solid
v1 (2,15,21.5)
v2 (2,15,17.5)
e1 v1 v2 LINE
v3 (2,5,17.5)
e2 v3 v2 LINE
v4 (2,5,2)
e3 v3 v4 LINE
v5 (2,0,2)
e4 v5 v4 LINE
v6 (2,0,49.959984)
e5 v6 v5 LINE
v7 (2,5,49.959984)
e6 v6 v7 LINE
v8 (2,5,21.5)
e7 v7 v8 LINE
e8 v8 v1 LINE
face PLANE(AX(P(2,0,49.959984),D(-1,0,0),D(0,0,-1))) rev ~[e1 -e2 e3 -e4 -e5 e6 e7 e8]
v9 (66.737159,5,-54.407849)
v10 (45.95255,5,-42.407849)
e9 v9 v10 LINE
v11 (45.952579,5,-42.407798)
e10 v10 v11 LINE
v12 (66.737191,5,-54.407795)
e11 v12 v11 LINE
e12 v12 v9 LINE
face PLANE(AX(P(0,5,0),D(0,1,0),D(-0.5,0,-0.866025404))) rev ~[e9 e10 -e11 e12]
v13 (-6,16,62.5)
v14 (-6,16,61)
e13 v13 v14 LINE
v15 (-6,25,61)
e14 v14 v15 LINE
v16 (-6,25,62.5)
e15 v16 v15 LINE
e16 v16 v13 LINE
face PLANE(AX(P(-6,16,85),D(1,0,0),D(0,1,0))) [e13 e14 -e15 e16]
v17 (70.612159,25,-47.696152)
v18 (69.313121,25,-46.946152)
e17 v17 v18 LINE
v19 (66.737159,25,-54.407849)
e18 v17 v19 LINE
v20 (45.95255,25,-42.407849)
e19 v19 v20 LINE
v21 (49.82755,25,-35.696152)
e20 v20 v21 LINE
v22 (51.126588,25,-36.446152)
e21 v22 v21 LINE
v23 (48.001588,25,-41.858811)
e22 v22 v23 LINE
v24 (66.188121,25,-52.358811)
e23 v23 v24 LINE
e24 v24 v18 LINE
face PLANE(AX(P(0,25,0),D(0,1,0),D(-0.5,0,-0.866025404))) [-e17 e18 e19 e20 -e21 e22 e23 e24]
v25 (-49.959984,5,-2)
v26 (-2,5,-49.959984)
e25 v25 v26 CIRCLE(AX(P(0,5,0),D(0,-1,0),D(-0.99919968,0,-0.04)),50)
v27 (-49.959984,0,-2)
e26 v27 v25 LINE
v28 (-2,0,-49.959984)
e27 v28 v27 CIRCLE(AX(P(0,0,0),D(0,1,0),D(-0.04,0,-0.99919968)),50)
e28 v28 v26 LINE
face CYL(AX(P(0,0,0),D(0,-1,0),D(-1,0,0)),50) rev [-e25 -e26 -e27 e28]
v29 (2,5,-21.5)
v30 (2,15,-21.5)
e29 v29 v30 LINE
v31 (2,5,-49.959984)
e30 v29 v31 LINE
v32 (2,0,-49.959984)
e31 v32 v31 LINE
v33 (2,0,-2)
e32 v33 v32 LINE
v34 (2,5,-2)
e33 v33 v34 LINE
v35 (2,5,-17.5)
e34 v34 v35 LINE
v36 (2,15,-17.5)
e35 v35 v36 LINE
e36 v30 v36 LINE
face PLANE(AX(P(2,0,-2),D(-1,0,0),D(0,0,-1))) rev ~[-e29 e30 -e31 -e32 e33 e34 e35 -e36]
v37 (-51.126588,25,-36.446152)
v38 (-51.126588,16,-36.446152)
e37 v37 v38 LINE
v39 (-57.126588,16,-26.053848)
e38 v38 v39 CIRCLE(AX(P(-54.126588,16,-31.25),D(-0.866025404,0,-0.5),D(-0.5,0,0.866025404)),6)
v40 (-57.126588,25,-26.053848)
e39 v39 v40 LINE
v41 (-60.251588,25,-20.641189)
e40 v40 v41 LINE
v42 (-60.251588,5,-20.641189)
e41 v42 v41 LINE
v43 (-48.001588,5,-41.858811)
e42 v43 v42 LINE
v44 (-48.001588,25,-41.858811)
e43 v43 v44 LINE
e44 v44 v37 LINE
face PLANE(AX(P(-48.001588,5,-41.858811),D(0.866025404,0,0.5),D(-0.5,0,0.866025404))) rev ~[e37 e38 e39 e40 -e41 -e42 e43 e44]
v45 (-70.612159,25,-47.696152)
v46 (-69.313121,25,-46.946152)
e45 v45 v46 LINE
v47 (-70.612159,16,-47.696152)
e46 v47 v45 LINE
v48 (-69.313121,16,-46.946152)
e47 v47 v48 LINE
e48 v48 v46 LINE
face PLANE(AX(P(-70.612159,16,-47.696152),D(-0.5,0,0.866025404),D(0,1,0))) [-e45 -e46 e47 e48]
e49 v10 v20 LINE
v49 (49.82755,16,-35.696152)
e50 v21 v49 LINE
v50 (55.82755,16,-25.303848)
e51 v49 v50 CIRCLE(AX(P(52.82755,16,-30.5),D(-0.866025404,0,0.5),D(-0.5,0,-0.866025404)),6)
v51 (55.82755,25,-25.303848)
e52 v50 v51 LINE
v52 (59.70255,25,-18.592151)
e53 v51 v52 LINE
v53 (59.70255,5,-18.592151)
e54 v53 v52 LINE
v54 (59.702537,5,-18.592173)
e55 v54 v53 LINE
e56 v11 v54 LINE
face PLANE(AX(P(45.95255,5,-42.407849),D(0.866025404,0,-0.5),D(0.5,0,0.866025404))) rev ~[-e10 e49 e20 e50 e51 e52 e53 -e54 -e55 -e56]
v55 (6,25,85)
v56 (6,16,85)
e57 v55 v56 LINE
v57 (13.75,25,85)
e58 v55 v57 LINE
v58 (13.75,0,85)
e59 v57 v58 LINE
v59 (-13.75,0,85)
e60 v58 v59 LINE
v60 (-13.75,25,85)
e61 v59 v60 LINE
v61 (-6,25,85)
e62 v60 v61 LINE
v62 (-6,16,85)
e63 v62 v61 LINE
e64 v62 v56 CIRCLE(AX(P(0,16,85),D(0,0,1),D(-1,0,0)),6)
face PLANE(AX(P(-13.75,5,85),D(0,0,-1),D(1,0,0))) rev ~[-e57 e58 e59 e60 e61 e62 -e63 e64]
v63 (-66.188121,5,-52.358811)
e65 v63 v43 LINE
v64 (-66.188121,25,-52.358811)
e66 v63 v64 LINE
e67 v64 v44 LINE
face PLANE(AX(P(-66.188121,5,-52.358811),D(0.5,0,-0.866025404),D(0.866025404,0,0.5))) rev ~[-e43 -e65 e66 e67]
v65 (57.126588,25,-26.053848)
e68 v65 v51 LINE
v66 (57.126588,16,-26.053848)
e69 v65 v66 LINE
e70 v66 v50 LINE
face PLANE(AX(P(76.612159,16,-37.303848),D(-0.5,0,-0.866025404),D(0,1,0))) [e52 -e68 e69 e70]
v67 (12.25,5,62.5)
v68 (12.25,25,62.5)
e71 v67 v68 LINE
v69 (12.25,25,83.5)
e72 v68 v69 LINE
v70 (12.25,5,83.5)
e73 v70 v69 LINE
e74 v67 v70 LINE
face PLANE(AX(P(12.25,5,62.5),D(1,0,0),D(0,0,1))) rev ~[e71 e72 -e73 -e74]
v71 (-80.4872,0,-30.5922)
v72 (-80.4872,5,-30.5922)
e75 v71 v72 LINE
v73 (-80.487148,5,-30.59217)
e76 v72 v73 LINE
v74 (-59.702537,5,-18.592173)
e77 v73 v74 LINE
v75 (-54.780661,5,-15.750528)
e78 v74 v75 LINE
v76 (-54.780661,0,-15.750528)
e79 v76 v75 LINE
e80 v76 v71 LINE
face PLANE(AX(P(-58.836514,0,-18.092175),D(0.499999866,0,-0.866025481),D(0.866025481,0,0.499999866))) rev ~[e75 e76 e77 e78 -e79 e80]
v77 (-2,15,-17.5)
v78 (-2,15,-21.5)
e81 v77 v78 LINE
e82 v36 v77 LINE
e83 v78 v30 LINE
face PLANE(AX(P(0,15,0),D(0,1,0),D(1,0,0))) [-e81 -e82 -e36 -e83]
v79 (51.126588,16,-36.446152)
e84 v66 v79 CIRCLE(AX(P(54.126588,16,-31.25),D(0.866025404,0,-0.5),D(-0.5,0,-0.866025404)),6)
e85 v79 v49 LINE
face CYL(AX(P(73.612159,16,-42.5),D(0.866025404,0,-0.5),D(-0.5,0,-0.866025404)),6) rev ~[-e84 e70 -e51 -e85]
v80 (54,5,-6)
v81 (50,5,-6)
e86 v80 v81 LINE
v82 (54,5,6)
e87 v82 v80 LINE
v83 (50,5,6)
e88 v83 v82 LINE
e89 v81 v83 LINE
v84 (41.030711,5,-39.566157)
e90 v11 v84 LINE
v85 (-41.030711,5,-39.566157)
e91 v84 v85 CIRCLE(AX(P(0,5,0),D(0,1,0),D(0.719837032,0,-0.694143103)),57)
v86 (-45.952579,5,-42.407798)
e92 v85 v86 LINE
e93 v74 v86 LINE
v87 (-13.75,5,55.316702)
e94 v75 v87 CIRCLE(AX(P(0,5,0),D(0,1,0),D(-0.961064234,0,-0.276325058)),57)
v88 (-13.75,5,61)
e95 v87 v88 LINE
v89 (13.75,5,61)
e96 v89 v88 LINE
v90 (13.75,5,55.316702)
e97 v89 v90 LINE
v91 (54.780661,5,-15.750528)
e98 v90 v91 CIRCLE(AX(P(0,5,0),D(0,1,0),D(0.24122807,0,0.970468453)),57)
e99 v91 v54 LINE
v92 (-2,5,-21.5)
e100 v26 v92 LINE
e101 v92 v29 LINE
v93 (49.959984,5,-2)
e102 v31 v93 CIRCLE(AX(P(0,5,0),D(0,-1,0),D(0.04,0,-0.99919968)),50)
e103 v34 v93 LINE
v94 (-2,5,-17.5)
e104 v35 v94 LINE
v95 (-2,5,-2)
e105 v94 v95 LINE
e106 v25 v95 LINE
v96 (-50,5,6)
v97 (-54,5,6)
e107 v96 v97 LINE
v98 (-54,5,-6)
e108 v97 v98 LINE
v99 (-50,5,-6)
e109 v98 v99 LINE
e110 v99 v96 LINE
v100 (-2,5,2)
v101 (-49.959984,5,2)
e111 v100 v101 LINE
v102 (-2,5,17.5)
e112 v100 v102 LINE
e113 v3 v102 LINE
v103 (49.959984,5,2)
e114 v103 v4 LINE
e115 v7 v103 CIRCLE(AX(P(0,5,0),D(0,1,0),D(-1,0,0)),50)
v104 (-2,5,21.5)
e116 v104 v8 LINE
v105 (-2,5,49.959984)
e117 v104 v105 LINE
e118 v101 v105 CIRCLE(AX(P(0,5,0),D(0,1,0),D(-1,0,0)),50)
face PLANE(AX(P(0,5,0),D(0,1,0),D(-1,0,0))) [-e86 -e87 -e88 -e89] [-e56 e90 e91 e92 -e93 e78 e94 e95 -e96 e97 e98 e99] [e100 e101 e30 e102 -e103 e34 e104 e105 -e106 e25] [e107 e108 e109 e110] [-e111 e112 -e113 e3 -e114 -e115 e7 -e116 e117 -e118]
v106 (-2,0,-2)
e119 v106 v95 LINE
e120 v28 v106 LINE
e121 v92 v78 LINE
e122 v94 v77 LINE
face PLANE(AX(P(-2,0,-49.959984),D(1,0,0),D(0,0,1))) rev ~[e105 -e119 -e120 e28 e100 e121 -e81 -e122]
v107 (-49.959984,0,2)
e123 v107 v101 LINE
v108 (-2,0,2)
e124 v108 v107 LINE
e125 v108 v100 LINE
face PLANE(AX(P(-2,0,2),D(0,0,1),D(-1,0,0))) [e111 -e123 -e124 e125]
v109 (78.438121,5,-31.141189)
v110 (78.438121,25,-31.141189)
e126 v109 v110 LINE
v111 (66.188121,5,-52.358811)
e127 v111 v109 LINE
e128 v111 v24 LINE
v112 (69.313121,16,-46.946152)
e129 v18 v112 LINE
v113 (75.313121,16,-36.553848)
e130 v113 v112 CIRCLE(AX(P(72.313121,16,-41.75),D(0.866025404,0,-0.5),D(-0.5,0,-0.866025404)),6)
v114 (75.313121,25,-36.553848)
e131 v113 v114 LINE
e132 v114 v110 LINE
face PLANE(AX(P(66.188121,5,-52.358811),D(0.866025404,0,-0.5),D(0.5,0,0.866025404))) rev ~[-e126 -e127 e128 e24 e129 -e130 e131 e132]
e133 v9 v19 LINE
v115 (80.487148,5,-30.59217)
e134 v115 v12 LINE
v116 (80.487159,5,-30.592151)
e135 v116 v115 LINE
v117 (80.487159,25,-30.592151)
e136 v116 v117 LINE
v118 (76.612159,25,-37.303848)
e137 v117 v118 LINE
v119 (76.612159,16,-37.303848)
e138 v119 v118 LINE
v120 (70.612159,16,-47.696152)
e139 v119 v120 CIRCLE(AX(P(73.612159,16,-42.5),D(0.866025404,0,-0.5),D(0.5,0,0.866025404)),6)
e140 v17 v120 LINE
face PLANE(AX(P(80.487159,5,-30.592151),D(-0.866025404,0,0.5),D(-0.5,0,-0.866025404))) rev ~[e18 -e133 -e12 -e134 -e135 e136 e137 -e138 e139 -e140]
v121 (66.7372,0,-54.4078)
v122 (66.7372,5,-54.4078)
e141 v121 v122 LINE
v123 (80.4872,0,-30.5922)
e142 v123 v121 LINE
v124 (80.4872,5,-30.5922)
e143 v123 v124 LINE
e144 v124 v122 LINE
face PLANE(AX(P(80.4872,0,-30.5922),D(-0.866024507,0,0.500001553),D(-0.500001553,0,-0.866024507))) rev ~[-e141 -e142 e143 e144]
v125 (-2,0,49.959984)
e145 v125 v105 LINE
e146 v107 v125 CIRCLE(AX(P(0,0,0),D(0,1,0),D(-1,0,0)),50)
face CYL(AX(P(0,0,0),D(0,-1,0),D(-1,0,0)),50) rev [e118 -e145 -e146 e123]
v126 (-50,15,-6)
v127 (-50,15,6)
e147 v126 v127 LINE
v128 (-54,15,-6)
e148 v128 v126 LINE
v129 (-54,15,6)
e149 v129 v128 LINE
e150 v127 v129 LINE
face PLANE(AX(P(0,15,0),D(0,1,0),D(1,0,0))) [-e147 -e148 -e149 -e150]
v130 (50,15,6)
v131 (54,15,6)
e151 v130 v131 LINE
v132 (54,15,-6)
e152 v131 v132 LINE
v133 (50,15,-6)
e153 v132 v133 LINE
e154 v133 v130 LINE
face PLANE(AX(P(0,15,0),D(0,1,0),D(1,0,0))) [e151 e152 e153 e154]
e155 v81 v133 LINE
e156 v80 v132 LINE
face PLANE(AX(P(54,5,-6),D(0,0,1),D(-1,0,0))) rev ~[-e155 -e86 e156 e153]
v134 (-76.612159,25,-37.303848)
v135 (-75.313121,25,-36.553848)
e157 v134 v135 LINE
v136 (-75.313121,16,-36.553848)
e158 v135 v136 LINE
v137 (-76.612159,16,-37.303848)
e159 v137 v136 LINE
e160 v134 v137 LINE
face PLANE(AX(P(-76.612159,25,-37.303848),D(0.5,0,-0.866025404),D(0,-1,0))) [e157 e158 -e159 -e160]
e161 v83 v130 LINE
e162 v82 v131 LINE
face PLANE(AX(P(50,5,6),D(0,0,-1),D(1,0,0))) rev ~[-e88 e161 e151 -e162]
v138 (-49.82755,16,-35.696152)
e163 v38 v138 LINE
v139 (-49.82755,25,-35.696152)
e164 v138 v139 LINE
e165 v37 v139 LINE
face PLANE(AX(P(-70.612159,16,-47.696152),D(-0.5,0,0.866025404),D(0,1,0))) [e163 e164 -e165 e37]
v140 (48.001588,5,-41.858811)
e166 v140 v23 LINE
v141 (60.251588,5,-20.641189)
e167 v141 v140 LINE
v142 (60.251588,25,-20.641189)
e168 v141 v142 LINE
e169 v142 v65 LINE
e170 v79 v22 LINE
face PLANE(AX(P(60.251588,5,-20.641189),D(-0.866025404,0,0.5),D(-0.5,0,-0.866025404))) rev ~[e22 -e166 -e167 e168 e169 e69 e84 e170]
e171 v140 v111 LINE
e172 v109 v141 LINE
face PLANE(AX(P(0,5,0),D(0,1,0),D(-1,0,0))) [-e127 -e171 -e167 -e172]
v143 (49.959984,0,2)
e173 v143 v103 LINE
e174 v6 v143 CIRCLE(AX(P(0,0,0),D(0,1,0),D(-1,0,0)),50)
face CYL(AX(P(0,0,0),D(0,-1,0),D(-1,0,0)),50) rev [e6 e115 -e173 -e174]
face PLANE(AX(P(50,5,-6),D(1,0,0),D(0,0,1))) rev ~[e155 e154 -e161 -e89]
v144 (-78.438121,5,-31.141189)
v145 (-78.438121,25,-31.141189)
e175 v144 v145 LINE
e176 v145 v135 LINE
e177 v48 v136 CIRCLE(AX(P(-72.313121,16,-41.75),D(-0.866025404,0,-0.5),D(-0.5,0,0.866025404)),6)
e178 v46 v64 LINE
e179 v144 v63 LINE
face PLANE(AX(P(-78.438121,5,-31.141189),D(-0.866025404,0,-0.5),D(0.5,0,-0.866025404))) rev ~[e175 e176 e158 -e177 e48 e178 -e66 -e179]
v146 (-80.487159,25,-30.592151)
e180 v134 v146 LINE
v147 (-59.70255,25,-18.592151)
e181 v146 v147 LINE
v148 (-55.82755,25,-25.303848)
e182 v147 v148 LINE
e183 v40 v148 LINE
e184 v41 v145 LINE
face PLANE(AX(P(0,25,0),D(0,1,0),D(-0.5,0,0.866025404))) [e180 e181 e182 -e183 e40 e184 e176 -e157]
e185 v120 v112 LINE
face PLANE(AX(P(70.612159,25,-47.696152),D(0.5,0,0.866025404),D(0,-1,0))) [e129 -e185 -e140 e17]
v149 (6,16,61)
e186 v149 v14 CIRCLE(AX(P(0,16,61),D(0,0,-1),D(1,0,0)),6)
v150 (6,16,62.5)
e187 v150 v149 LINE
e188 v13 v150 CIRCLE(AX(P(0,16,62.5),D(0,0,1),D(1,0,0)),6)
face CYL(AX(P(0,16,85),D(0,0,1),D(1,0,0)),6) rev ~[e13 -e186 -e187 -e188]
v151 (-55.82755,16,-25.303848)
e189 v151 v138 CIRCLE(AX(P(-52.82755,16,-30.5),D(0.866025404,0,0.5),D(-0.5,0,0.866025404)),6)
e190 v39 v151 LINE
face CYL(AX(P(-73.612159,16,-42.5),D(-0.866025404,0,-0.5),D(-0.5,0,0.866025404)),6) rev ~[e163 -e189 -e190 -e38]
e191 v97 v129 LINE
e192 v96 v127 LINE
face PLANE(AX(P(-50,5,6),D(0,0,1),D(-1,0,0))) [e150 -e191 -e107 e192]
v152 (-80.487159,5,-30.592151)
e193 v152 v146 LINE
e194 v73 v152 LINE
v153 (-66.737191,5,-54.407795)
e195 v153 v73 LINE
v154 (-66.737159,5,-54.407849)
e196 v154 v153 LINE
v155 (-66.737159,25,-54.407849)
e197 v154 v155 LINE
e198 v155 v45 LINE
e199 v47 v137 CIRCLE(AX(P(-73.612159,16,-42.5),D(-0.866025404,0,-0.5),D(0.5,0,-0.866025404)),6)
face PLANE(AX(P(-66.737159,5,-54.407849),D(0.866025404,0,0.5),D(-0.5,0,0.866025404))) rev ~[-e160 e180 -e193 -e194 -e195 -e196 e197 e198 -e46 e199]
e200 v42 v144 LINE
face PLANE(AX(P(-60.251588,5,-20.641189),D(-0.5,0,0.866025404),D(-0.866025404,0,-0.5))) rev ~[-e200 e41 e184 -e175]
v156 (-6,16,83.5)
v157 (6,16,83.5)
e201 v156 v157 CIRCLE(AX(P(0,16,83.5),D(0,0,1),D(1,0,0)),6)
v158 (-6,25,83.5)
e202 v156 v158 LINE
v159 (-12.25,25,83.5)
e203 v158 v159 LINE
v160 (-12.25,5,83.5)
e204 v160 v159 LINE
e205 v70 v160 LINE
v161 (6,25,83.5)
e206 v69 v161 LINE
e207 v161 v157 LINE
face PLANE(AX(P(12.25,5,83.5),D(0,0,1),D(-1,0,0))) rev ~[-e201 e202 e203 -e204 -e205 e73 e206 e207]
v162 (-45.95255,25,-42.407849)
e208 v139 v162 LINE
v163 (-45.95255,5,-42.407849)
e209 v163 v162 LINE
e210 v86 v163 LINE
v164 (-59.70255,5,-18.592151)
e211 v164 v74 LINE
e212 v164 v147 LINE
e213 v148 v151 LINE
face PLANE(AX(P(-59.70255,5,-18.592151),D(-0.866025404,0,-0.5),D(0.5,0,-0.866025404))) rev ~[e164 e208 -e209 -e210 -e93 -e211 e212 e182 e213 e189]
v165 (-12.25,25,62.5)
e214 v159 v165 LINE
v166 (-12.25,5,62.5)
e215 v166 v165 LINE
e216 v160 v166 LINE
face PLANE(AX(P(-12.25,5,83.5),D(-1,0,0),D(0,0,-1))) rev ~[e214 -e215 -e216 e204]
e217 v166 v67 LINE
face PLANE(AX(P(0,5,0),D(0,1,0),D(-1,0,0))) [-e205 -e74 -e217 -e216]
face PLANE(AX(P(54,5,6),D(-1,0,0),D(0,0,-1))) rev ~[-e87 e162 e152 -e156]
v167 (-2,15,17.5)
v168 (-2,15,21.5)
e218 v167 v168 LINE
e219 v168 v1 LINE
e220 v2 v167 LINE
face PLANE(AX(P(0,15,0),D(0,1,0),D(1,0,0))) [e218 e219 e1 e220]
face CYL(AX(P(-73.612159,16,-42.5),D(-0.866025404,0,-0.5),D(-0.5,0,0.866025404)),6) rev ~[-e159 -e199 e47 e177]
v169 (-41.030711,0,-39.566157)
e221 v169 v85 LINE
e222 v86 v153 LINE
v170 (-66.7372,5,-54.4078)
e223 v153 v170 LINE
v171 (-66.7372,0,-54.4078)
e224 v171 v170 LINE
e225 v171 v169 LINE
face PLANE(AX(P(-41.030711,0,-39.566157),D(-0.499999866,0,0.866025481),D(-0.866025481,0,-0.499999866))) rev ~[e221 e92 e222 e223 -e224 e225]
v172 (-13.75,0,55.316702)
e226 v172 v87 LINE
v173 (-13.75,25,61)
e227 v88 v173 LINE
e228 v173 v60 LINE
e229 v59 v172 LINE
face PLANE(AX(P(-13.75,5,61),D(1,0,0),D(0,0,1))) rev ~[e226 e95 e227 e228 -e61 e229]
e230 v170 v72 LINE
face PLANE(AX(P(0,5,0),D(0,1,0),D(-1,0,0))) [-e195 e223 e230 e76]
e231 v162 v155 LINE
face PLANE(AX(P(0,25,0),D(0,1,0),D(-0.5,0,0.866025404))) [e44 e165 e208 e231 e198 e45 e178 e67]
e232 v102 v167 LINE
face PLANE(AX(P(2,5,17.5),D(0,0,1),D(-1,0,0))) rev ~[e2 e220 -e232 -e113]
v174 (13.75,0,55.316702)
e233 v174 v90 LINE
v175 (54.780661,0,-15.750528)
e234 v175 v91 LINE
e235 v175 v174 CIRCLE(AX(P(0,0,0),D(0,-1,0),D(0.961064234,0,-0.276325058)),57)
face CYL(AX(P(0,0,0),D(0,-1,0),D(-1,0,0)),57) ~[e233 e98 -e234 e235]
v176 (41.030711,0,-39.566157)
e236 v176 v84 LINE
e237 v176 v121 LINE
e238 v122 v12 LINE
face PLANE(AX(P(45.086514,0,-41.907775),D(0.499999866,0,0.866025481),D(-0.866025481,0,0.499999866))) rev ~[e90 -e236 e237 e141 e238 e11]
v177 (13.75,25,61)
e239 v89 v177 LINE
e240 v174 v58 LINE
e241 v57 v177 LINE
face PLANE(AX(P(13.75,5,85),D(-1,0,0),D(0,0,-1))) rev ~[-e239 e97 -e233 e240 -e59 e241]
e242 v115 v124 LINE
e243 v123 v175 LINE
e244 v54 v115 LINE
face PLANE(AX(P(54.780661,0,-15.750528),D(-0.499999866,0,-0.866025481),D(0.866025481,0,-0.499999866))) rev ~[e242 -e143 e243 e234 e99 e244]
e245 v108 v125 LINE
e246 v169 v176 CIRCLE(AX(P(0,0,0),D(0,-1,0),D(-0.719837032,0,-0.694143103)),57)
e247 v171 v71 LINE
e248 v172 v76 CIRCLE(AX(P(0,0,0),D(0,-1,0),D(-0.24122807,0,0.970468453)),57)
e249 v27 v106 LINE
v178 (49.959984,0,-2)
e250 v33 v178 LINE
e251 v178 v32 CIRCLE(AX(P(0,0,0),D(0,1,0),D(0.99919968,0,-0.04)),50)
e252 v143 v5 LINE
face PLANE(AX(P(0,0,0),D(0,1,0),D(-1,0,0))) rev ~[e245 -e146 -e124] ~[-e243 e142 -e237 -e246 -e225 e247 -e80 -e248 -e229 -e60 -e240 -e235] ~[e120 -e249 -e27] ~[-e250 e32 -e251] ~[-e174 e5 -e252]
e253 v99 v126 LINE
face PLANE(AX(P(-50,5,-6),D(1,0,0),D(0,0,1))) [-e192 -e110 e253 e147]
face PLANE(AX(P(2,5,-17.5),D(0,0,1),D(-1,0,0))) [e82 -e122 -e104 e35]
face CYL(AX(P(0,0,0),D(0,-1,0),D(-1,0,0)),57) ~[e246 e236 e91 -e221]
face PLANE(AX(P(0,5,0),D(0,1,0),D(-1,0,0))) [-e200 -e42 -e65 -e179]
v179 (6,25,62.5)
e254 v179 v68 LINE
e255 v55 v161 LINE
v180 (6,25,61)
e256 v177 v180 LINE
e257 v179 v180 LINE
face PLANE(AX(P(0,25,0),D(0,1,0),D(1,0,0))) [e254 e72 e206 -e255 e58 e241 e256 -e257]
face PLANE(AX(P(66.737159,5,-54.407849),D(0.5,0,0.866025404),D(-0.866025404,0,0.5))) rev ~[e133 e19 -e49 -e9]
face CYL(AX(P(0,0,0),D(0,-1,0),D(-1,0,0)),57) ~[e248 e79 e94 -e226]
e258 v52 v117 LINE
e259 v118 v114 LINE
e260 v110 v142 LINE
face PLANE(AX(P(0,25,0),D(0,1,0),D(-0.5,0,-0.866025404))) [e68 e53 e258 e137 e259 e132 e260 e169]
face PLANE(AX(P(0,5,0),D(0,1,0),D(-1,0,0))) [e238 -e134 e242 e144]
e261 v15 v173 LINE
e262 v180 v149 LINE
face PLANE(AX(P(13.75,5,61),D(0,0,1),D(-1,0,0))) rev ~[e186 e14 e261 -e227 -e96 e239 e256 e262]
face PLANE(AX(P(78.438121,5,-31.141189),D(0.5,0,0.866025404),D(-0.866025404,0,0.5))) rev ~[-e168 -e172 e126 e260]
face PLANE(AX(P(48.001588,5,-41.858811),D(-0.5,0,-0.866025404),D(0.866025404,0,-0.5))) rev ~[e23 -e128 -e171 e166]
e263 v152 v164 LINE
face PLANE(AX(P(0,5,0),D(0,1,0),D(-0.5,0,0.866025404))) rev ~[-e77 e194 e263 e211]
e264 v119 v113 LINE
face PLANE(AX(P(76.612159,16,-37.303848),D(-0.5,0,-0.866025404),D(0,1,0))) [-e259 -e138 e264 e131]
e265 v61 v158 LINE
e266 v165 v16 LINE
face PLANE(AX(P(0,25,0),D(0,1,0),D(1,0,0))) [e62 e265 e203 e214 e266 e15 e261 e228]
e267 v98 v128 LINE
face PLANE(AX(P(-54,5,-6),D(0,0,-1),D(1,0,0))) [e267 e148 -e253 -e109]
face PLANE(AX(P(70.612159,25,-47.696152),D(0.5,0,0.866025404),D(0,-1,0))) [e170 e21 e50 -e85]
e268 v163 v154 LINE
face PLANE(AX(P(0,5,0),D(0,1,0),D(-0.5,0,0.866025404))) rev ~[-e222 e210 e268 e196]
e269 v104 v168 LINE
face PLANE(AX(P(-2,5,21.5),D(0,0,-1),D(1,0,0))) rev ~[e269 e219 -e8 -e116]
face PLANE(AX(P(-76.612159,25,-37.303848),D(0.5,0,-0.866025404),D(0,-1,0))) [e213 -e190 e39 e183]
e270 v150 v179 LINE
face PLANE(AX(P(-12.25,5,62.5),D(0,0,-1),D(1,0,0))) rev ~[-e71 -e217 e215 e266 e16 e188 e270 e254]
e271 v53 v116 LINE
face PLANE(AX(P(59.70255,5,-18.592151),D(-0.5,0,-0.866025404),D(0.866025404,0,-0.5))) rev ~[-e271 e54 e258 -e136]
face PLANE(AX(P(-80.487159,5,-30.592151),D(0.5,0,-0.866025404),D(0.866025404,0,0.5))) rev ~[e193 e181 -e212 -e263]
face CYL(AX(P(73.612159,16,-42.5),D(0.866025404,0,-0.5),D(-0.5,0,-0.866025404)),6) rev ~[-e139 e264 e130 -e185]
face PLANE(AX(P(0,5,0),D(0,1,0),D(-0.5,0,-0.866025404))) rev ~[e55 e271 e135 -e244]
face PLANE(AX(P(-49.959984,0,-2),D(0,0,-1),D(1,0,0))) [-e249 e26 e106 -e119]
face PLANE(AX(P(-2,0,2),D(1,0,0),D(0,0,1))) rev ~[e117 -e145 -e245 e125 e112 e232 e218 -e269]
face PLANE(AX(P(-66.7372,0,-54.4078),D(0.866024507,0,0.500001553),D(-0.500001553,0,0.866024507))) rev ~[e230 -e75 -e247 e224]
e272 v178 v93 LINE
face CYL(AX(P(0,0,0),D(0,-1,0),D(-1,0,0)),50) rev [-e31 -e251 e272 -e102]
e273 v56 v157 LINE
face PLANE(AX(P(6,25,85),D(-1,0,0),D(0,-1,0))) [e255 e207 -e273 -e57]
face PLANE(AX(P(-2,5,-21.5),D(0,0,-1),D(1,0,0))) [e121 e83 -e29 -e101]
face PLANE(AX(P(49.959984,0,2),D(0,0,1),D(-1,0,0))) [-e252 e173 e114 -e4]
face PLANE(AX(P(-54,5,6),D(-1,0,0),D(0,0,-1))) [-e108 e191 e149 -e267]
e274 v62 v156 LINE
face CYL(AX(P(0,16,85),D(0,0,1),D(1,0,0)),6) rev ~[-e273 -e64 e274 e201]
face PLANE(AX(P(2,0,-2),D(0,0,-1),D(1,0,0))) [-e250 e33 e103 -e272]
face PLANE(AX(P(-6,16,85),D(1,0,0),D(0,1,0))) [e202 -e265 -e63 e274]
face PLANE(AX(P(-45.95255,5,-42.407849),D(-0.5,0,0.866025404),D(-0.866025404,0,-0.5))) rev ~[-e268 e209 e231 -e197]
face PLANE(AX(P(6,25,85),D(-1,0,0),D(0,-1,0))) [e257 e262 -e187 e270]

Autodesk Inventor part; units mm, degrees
ref_plane "YZ Plane" through (0, 0, 0) normal (1, 0, 0) x (0, 1, 0)
ref_plane "XZ Plane" through (0, 0, 0) normal (0, 1, 0) x (-1, 0, 0)
ref_plane "XY Plane" through (0, 0, 0) normal (0, 0, 1) x (1, 0, 0)
sketch "Sketch1" plane through (0, 0, 0) normal (0, 1, 0) x (-1, 0, 0)
  circle A0 centre (0, 0) radius 57
  circle A1 centre (0, 0) radius 50
  line L0 (0, -85.4) -> (0, 113.4) projected
  line L1 (112.682, 0) -> (-112.682, 0) projected
  line L2 (-50, 2) -> (50, 2)
  line L3 (50, 2) -> (50, -2)
  line L4 (50, -2) -> (-50, -2)
  line L5 (-50, -2) -> (-50, 2)
  line L6 (-50, 2) -> (50, -2) construction
  line L7 (50, 2) -> (-50, -2) construction
  line L8 (2, 50) -> (-2, 50)
  line L9 (-2, 50) -> (-2, -50)
  line L10 (-2, -50) -> (2, -50)
  line L11 (2, -50) -> (2, 50)
  line L12 (2, 50) -> (-2, -50) construction
  line L13 (-2, 50) -> (2, -50) construction
  line L14 (13.75, 85) -> (-13.75, 85)
  line L15 (-13.75, 85) -> (-13.75, 50)
  line L16 (-13.75, 50) -> (13.75, 50)
  line L17 (13.75, 50) -> (13.75, 85)
  line L18 (0, 85) -> (0, 50) construction
  line L19 (13.75, 60) -> (-13.75, 60)
  line L20 (-44.3013, -23.2679) -> (-42.3013, -26.7321)
  line L21 (-36.4263, -36.9078) -> (-50.1763, -13.0922)
  line L22 (-58.8365, -18.0922) -> (-45.0865, -41.9078)
  line L23 (-66.7372, -54.4078) -> (-36.4263, -36.9078)
  line L24 (-50.1763, -13.0922) -> (-80.4872, -30.5922)
  line L25 (-73.6122, -42.5) -> (-43.3013, -25) construction
  line L26 (-80.4872, -30.5922) -> (-66.7372, -54.4078)
  line L27 (42.3013, -26.7321) -> (44.3013, -23.2679)
  line L28 (50.1763, -13.0922) -> (36.4263, -36.9078)
  line L29 (45.0865, -41.9078) -> (58.8365, -18.0922)
  line L30 (80.4872, -30.5922) -> (50.1763, -13.0922)
  line L31 (36.4263, -36.9078) -> (66.7372, -54.4078)
  line L32 (73.6122, -42.5) -> (43.3013, -25) construction
  line L33 (66.7372, -54.4078) -> (80.4872, -30.5922)
  point P0 (2, -49.96)
  point P1 (2, -2)
  point P2 (49.96, -2)
  point P3 (-2, 49.96)
  point P4 (-2, 2)
  point P5 (-49.96, 2)
  point P6 (-2, -49.96)
  point P7 (-49.96, -2)
  point P8 (-2, -2)
  point P9 (-13.75, 55.3167)
  point P10 (-54.7807, -15.7505)
  point P11 (-41.0307, -39.5662)
  point P12 (41.0307, -39.5662)
  point P13 (54.7807, -15.7505)
  point P14 (13.75, 55.3167)
  point P15 (2, 49.96)
  point P16 (49.96, 2)
  point P17 (2, 2)
  dimension "d0" = 114
  dimension "d1" = 100
  dimension "d6" = 100
  dimension "d7" = 4
  dimension "d8" = 4
  dimension "d9" = 100
  dimension "d10" = 27.5
  dimension "d14" = 60
  dimension "d15" = 25
  dimension "d18" = 360
extrude "Extrusion1" add sketch "Sketch1" along normal blind 5 contours L1 L3 L2 A1 L11 L16 L17 A0 | A0 L30 L28 L27 A1 L4 L3 L1 | L17 L16 L8 L0 A0 | A0 L0 L19 L17 | L30 L29 L31 A0 | A0 L31 L28 L27 L30 | L1 L11 L2 A1 | L3 L4 A1 | A1 L4 L11 L1 | A1 L2 L3 | L0 L8 L16 L15 A0 | A0 L15 L19 L0 | L19 L0 L14 L17 | A0 L0 L10 L11 A1 L27 L28 L31 | L30 L33 L31 L29 | L11 L4 L0 L1 | L1 L0 L2 L11 | L15 L16 L9 A1 L2 L5 L1 A0 | L8 L11 A1 | L0 L2 L9 A1 | A1 L11 L2 L0 | A1 L9 L8 | L19 L15 L14 L0 | A0 L23 L21 L20 A1 L9 L10 L0 | L11 A1 L0 L4 | L1 L9 L2 L0 | L0 L4 L9 L1 | L1 L5 L4 A1 L20 L21 L24 A0 | L23 L22 L24 A0 | A0 L24 L21 L20 L23 | L10 L9 A1 | A1 L9 L4 L0 | A1 L11 L10 | L9 L4 A1 L1 | L1 A1 L2 L9 | L5 L2 A1 | A1 L4 L5 | L23 L26 L24 L22
sketch "Sketch5" plane through (0, 5, 0) normal (0, 1, 0) x (1, 0, 0)
  line L0 (-2, -21.5) -> (2, -21.5)
  line L1 (2, -21.5) -> (2, -17.5)
  line L2 (2, -17.5) -> (-2, -17.5)
  line L3 (-2, -17.5) -> (-2, -21.5)
  line L4 (-2, -2) -> (-2, -49.96) construction
  line L5 (2, -49.96) -> (2, -2) construction
  line L6 (-112.682, 0) -> (112.682, 0) construction
  line L7 (-2, 21.5) -> (2, 21.5)
  line L8 (2, 21.5) -> (2, 17.5)
  line L9 (2, 17.5) -> (-2, 17.5)
  line L10 (-2, 17.5) -> (-2, 21.5)
  arc A0 (-49.96, -2) -> (-2, -49.96) centre (0, 0) ccw construction
  arc A1 (-2, 49.96) -> (-49.96, 2) centre (0, 0) ccw construction
  circle A2 centre (0, 0) radius 50 construction
  line L11 (-54, 6) -> (-50, 6)
  line L12 (-50, 6) -> (-50, -6)
  line L13 (-50, -6) -> (-54, -6)
  line L14 (-54, -6) -> (-54, 6)
  line L15 (-54, 0) -> (-50, 0) construction
  line L16 (0, 88.2024) -> (0, -113.8671) construction
  line L17 (54, 6) -> (50, 6)
  line L18 (50, 6) -> (50, -6)
  line L19 (50, -6) -> (54, -6)
  line L20 (54, -6) -> (54, 6)
  line L21 (54, 0) -> (50, 0) construction
  point P0 (49.96, -2)
  point P1 (49.96, 2)
  dimension "d41" = 17.5
  dimension "d42" = 4
  dimension "d43" = 12
extrude "Extrusion4" add sketch "Sketch5" along normal blind 10
sketch "Sketch2" plane through (0, 5, 0) normal (0, 1, 0) x (1, 0, 0)
  line L0 (-13.75, -55.3167) -> (-13.75, -85) projected
  line L1 (13.75, -85) -> (13.75, -55.3167) projected
  line L2 (-13.75, -85) -> (13.75, -85)
  line L3 (13.75, -85) -> (13.75, -61)
  line L4 (13.75, -61) -> (-13.75, -61)
  line L5 (-13.75, -61) -> (-13.75, -85)
  line L6 (-12.25, -62.5) -> (12.25, -62.5)
  line L7 (12.25, -62.5) -> (12.25, -83.5)
  line L8 (12.25, -83.5) -> (-12.25, -83.5)
  line L9 (-12.25, -83.5) -> (-12.25, -62.5)
  line L10 (80.4872, 30.5922) -> (66.7372, 54.4078)
  line L11 (66.7372, 54.4078) -> (45.9525, 42.4078)
  line L12 (45.9525, 42.4078) -> (59.7025, 18.5922)
  line L13 (59.7025, 18.5922) -> (80.4872, 30.5922)
  line L14 (60.2516, 20.6412) -> (48.0016, 41.8588)
  line L15 (48.0016, 41.8588) -> (66.1881, 52.3588)
  line L16 (66.1881, 52.3588) -> (78.4381, 31.1412)
  line L17 (78.4381, 31.1412) -> (60.2516, 20.6412)
  line L18 (-66.7372, 54.4078) -> (-80.4872, 30.5922)
  line L19 (-80.4872, 30.5922) -> (-59.7025, 18.5922)
  line L20 (-59.7025, 18.5922) -> (-45.9525, 42.4078)
  line L21 (-45.9525, 42.4078) -> (-66.7372, 54.4078)
  line L22 (-48.0016, 41.8588) -> (-60.2516, 20.6412)
  line L23 (-60.2516, 20.6412) -> (-78.4381, 31.1412)
  line L24 (-78.4381, 31.1412) -> (-66.1881, 52.3588)
  line L25 (-66.1881, 52.3588) -> (-48.0016, 41.8588)
  point P0 (0, 0)
  point P1 (-13.75, -61)
  point P2 (-13.75, -61)
  dimension "d22" = 24
  dimension "d23" = 1.5
  dimension "d26" = 360
extrude "Extrusion2" add sketch "Sketch2" along normal blind 20 contours L4 L1 L2 L0
sketch "Sketch4" plane through (-13.75, 0, 85) normal (0, 0, 1) x (1, 0, 0)
  line L0 (0, 25) -> (27.5, 25) construction
  line L1 (7.75, 25) -> (19.75, 25)
  line L2 (19.75, 25) -> (19.75, 10)
  line L3 (19.75, 10) -> (7.75, 10)
  line L4 (7.75, 10) -> (7.75, 25)
  line L5 (1.5, 5) -> (26, 5) construction
  line L6 (13.75, -10.2) -> (13.75, 61.2) construction
  circle A0 centre (13.75, 16) radius 6
  point P0 (13.75, 0)
  point P1 (7.75, 16)
  point P2 (19.75, 16)
  dimension "d36" = 12
  dimension "d37" = 5
  dimension "d38" = 6
extrude "Extrusion3" cut sketch "Sketch4" against normal up to surface (24 mm away) contours L1 L2 A0 L4 | A0
pattern_circular "Circular Pattern1" count 3 over 360 about axis through (0, -10, 0) along (0, 1, 0) of "Extrusion2", "Extrusion3"
equation "\"d38\" = 0.5 * d36"
properties part number "bottom3"
